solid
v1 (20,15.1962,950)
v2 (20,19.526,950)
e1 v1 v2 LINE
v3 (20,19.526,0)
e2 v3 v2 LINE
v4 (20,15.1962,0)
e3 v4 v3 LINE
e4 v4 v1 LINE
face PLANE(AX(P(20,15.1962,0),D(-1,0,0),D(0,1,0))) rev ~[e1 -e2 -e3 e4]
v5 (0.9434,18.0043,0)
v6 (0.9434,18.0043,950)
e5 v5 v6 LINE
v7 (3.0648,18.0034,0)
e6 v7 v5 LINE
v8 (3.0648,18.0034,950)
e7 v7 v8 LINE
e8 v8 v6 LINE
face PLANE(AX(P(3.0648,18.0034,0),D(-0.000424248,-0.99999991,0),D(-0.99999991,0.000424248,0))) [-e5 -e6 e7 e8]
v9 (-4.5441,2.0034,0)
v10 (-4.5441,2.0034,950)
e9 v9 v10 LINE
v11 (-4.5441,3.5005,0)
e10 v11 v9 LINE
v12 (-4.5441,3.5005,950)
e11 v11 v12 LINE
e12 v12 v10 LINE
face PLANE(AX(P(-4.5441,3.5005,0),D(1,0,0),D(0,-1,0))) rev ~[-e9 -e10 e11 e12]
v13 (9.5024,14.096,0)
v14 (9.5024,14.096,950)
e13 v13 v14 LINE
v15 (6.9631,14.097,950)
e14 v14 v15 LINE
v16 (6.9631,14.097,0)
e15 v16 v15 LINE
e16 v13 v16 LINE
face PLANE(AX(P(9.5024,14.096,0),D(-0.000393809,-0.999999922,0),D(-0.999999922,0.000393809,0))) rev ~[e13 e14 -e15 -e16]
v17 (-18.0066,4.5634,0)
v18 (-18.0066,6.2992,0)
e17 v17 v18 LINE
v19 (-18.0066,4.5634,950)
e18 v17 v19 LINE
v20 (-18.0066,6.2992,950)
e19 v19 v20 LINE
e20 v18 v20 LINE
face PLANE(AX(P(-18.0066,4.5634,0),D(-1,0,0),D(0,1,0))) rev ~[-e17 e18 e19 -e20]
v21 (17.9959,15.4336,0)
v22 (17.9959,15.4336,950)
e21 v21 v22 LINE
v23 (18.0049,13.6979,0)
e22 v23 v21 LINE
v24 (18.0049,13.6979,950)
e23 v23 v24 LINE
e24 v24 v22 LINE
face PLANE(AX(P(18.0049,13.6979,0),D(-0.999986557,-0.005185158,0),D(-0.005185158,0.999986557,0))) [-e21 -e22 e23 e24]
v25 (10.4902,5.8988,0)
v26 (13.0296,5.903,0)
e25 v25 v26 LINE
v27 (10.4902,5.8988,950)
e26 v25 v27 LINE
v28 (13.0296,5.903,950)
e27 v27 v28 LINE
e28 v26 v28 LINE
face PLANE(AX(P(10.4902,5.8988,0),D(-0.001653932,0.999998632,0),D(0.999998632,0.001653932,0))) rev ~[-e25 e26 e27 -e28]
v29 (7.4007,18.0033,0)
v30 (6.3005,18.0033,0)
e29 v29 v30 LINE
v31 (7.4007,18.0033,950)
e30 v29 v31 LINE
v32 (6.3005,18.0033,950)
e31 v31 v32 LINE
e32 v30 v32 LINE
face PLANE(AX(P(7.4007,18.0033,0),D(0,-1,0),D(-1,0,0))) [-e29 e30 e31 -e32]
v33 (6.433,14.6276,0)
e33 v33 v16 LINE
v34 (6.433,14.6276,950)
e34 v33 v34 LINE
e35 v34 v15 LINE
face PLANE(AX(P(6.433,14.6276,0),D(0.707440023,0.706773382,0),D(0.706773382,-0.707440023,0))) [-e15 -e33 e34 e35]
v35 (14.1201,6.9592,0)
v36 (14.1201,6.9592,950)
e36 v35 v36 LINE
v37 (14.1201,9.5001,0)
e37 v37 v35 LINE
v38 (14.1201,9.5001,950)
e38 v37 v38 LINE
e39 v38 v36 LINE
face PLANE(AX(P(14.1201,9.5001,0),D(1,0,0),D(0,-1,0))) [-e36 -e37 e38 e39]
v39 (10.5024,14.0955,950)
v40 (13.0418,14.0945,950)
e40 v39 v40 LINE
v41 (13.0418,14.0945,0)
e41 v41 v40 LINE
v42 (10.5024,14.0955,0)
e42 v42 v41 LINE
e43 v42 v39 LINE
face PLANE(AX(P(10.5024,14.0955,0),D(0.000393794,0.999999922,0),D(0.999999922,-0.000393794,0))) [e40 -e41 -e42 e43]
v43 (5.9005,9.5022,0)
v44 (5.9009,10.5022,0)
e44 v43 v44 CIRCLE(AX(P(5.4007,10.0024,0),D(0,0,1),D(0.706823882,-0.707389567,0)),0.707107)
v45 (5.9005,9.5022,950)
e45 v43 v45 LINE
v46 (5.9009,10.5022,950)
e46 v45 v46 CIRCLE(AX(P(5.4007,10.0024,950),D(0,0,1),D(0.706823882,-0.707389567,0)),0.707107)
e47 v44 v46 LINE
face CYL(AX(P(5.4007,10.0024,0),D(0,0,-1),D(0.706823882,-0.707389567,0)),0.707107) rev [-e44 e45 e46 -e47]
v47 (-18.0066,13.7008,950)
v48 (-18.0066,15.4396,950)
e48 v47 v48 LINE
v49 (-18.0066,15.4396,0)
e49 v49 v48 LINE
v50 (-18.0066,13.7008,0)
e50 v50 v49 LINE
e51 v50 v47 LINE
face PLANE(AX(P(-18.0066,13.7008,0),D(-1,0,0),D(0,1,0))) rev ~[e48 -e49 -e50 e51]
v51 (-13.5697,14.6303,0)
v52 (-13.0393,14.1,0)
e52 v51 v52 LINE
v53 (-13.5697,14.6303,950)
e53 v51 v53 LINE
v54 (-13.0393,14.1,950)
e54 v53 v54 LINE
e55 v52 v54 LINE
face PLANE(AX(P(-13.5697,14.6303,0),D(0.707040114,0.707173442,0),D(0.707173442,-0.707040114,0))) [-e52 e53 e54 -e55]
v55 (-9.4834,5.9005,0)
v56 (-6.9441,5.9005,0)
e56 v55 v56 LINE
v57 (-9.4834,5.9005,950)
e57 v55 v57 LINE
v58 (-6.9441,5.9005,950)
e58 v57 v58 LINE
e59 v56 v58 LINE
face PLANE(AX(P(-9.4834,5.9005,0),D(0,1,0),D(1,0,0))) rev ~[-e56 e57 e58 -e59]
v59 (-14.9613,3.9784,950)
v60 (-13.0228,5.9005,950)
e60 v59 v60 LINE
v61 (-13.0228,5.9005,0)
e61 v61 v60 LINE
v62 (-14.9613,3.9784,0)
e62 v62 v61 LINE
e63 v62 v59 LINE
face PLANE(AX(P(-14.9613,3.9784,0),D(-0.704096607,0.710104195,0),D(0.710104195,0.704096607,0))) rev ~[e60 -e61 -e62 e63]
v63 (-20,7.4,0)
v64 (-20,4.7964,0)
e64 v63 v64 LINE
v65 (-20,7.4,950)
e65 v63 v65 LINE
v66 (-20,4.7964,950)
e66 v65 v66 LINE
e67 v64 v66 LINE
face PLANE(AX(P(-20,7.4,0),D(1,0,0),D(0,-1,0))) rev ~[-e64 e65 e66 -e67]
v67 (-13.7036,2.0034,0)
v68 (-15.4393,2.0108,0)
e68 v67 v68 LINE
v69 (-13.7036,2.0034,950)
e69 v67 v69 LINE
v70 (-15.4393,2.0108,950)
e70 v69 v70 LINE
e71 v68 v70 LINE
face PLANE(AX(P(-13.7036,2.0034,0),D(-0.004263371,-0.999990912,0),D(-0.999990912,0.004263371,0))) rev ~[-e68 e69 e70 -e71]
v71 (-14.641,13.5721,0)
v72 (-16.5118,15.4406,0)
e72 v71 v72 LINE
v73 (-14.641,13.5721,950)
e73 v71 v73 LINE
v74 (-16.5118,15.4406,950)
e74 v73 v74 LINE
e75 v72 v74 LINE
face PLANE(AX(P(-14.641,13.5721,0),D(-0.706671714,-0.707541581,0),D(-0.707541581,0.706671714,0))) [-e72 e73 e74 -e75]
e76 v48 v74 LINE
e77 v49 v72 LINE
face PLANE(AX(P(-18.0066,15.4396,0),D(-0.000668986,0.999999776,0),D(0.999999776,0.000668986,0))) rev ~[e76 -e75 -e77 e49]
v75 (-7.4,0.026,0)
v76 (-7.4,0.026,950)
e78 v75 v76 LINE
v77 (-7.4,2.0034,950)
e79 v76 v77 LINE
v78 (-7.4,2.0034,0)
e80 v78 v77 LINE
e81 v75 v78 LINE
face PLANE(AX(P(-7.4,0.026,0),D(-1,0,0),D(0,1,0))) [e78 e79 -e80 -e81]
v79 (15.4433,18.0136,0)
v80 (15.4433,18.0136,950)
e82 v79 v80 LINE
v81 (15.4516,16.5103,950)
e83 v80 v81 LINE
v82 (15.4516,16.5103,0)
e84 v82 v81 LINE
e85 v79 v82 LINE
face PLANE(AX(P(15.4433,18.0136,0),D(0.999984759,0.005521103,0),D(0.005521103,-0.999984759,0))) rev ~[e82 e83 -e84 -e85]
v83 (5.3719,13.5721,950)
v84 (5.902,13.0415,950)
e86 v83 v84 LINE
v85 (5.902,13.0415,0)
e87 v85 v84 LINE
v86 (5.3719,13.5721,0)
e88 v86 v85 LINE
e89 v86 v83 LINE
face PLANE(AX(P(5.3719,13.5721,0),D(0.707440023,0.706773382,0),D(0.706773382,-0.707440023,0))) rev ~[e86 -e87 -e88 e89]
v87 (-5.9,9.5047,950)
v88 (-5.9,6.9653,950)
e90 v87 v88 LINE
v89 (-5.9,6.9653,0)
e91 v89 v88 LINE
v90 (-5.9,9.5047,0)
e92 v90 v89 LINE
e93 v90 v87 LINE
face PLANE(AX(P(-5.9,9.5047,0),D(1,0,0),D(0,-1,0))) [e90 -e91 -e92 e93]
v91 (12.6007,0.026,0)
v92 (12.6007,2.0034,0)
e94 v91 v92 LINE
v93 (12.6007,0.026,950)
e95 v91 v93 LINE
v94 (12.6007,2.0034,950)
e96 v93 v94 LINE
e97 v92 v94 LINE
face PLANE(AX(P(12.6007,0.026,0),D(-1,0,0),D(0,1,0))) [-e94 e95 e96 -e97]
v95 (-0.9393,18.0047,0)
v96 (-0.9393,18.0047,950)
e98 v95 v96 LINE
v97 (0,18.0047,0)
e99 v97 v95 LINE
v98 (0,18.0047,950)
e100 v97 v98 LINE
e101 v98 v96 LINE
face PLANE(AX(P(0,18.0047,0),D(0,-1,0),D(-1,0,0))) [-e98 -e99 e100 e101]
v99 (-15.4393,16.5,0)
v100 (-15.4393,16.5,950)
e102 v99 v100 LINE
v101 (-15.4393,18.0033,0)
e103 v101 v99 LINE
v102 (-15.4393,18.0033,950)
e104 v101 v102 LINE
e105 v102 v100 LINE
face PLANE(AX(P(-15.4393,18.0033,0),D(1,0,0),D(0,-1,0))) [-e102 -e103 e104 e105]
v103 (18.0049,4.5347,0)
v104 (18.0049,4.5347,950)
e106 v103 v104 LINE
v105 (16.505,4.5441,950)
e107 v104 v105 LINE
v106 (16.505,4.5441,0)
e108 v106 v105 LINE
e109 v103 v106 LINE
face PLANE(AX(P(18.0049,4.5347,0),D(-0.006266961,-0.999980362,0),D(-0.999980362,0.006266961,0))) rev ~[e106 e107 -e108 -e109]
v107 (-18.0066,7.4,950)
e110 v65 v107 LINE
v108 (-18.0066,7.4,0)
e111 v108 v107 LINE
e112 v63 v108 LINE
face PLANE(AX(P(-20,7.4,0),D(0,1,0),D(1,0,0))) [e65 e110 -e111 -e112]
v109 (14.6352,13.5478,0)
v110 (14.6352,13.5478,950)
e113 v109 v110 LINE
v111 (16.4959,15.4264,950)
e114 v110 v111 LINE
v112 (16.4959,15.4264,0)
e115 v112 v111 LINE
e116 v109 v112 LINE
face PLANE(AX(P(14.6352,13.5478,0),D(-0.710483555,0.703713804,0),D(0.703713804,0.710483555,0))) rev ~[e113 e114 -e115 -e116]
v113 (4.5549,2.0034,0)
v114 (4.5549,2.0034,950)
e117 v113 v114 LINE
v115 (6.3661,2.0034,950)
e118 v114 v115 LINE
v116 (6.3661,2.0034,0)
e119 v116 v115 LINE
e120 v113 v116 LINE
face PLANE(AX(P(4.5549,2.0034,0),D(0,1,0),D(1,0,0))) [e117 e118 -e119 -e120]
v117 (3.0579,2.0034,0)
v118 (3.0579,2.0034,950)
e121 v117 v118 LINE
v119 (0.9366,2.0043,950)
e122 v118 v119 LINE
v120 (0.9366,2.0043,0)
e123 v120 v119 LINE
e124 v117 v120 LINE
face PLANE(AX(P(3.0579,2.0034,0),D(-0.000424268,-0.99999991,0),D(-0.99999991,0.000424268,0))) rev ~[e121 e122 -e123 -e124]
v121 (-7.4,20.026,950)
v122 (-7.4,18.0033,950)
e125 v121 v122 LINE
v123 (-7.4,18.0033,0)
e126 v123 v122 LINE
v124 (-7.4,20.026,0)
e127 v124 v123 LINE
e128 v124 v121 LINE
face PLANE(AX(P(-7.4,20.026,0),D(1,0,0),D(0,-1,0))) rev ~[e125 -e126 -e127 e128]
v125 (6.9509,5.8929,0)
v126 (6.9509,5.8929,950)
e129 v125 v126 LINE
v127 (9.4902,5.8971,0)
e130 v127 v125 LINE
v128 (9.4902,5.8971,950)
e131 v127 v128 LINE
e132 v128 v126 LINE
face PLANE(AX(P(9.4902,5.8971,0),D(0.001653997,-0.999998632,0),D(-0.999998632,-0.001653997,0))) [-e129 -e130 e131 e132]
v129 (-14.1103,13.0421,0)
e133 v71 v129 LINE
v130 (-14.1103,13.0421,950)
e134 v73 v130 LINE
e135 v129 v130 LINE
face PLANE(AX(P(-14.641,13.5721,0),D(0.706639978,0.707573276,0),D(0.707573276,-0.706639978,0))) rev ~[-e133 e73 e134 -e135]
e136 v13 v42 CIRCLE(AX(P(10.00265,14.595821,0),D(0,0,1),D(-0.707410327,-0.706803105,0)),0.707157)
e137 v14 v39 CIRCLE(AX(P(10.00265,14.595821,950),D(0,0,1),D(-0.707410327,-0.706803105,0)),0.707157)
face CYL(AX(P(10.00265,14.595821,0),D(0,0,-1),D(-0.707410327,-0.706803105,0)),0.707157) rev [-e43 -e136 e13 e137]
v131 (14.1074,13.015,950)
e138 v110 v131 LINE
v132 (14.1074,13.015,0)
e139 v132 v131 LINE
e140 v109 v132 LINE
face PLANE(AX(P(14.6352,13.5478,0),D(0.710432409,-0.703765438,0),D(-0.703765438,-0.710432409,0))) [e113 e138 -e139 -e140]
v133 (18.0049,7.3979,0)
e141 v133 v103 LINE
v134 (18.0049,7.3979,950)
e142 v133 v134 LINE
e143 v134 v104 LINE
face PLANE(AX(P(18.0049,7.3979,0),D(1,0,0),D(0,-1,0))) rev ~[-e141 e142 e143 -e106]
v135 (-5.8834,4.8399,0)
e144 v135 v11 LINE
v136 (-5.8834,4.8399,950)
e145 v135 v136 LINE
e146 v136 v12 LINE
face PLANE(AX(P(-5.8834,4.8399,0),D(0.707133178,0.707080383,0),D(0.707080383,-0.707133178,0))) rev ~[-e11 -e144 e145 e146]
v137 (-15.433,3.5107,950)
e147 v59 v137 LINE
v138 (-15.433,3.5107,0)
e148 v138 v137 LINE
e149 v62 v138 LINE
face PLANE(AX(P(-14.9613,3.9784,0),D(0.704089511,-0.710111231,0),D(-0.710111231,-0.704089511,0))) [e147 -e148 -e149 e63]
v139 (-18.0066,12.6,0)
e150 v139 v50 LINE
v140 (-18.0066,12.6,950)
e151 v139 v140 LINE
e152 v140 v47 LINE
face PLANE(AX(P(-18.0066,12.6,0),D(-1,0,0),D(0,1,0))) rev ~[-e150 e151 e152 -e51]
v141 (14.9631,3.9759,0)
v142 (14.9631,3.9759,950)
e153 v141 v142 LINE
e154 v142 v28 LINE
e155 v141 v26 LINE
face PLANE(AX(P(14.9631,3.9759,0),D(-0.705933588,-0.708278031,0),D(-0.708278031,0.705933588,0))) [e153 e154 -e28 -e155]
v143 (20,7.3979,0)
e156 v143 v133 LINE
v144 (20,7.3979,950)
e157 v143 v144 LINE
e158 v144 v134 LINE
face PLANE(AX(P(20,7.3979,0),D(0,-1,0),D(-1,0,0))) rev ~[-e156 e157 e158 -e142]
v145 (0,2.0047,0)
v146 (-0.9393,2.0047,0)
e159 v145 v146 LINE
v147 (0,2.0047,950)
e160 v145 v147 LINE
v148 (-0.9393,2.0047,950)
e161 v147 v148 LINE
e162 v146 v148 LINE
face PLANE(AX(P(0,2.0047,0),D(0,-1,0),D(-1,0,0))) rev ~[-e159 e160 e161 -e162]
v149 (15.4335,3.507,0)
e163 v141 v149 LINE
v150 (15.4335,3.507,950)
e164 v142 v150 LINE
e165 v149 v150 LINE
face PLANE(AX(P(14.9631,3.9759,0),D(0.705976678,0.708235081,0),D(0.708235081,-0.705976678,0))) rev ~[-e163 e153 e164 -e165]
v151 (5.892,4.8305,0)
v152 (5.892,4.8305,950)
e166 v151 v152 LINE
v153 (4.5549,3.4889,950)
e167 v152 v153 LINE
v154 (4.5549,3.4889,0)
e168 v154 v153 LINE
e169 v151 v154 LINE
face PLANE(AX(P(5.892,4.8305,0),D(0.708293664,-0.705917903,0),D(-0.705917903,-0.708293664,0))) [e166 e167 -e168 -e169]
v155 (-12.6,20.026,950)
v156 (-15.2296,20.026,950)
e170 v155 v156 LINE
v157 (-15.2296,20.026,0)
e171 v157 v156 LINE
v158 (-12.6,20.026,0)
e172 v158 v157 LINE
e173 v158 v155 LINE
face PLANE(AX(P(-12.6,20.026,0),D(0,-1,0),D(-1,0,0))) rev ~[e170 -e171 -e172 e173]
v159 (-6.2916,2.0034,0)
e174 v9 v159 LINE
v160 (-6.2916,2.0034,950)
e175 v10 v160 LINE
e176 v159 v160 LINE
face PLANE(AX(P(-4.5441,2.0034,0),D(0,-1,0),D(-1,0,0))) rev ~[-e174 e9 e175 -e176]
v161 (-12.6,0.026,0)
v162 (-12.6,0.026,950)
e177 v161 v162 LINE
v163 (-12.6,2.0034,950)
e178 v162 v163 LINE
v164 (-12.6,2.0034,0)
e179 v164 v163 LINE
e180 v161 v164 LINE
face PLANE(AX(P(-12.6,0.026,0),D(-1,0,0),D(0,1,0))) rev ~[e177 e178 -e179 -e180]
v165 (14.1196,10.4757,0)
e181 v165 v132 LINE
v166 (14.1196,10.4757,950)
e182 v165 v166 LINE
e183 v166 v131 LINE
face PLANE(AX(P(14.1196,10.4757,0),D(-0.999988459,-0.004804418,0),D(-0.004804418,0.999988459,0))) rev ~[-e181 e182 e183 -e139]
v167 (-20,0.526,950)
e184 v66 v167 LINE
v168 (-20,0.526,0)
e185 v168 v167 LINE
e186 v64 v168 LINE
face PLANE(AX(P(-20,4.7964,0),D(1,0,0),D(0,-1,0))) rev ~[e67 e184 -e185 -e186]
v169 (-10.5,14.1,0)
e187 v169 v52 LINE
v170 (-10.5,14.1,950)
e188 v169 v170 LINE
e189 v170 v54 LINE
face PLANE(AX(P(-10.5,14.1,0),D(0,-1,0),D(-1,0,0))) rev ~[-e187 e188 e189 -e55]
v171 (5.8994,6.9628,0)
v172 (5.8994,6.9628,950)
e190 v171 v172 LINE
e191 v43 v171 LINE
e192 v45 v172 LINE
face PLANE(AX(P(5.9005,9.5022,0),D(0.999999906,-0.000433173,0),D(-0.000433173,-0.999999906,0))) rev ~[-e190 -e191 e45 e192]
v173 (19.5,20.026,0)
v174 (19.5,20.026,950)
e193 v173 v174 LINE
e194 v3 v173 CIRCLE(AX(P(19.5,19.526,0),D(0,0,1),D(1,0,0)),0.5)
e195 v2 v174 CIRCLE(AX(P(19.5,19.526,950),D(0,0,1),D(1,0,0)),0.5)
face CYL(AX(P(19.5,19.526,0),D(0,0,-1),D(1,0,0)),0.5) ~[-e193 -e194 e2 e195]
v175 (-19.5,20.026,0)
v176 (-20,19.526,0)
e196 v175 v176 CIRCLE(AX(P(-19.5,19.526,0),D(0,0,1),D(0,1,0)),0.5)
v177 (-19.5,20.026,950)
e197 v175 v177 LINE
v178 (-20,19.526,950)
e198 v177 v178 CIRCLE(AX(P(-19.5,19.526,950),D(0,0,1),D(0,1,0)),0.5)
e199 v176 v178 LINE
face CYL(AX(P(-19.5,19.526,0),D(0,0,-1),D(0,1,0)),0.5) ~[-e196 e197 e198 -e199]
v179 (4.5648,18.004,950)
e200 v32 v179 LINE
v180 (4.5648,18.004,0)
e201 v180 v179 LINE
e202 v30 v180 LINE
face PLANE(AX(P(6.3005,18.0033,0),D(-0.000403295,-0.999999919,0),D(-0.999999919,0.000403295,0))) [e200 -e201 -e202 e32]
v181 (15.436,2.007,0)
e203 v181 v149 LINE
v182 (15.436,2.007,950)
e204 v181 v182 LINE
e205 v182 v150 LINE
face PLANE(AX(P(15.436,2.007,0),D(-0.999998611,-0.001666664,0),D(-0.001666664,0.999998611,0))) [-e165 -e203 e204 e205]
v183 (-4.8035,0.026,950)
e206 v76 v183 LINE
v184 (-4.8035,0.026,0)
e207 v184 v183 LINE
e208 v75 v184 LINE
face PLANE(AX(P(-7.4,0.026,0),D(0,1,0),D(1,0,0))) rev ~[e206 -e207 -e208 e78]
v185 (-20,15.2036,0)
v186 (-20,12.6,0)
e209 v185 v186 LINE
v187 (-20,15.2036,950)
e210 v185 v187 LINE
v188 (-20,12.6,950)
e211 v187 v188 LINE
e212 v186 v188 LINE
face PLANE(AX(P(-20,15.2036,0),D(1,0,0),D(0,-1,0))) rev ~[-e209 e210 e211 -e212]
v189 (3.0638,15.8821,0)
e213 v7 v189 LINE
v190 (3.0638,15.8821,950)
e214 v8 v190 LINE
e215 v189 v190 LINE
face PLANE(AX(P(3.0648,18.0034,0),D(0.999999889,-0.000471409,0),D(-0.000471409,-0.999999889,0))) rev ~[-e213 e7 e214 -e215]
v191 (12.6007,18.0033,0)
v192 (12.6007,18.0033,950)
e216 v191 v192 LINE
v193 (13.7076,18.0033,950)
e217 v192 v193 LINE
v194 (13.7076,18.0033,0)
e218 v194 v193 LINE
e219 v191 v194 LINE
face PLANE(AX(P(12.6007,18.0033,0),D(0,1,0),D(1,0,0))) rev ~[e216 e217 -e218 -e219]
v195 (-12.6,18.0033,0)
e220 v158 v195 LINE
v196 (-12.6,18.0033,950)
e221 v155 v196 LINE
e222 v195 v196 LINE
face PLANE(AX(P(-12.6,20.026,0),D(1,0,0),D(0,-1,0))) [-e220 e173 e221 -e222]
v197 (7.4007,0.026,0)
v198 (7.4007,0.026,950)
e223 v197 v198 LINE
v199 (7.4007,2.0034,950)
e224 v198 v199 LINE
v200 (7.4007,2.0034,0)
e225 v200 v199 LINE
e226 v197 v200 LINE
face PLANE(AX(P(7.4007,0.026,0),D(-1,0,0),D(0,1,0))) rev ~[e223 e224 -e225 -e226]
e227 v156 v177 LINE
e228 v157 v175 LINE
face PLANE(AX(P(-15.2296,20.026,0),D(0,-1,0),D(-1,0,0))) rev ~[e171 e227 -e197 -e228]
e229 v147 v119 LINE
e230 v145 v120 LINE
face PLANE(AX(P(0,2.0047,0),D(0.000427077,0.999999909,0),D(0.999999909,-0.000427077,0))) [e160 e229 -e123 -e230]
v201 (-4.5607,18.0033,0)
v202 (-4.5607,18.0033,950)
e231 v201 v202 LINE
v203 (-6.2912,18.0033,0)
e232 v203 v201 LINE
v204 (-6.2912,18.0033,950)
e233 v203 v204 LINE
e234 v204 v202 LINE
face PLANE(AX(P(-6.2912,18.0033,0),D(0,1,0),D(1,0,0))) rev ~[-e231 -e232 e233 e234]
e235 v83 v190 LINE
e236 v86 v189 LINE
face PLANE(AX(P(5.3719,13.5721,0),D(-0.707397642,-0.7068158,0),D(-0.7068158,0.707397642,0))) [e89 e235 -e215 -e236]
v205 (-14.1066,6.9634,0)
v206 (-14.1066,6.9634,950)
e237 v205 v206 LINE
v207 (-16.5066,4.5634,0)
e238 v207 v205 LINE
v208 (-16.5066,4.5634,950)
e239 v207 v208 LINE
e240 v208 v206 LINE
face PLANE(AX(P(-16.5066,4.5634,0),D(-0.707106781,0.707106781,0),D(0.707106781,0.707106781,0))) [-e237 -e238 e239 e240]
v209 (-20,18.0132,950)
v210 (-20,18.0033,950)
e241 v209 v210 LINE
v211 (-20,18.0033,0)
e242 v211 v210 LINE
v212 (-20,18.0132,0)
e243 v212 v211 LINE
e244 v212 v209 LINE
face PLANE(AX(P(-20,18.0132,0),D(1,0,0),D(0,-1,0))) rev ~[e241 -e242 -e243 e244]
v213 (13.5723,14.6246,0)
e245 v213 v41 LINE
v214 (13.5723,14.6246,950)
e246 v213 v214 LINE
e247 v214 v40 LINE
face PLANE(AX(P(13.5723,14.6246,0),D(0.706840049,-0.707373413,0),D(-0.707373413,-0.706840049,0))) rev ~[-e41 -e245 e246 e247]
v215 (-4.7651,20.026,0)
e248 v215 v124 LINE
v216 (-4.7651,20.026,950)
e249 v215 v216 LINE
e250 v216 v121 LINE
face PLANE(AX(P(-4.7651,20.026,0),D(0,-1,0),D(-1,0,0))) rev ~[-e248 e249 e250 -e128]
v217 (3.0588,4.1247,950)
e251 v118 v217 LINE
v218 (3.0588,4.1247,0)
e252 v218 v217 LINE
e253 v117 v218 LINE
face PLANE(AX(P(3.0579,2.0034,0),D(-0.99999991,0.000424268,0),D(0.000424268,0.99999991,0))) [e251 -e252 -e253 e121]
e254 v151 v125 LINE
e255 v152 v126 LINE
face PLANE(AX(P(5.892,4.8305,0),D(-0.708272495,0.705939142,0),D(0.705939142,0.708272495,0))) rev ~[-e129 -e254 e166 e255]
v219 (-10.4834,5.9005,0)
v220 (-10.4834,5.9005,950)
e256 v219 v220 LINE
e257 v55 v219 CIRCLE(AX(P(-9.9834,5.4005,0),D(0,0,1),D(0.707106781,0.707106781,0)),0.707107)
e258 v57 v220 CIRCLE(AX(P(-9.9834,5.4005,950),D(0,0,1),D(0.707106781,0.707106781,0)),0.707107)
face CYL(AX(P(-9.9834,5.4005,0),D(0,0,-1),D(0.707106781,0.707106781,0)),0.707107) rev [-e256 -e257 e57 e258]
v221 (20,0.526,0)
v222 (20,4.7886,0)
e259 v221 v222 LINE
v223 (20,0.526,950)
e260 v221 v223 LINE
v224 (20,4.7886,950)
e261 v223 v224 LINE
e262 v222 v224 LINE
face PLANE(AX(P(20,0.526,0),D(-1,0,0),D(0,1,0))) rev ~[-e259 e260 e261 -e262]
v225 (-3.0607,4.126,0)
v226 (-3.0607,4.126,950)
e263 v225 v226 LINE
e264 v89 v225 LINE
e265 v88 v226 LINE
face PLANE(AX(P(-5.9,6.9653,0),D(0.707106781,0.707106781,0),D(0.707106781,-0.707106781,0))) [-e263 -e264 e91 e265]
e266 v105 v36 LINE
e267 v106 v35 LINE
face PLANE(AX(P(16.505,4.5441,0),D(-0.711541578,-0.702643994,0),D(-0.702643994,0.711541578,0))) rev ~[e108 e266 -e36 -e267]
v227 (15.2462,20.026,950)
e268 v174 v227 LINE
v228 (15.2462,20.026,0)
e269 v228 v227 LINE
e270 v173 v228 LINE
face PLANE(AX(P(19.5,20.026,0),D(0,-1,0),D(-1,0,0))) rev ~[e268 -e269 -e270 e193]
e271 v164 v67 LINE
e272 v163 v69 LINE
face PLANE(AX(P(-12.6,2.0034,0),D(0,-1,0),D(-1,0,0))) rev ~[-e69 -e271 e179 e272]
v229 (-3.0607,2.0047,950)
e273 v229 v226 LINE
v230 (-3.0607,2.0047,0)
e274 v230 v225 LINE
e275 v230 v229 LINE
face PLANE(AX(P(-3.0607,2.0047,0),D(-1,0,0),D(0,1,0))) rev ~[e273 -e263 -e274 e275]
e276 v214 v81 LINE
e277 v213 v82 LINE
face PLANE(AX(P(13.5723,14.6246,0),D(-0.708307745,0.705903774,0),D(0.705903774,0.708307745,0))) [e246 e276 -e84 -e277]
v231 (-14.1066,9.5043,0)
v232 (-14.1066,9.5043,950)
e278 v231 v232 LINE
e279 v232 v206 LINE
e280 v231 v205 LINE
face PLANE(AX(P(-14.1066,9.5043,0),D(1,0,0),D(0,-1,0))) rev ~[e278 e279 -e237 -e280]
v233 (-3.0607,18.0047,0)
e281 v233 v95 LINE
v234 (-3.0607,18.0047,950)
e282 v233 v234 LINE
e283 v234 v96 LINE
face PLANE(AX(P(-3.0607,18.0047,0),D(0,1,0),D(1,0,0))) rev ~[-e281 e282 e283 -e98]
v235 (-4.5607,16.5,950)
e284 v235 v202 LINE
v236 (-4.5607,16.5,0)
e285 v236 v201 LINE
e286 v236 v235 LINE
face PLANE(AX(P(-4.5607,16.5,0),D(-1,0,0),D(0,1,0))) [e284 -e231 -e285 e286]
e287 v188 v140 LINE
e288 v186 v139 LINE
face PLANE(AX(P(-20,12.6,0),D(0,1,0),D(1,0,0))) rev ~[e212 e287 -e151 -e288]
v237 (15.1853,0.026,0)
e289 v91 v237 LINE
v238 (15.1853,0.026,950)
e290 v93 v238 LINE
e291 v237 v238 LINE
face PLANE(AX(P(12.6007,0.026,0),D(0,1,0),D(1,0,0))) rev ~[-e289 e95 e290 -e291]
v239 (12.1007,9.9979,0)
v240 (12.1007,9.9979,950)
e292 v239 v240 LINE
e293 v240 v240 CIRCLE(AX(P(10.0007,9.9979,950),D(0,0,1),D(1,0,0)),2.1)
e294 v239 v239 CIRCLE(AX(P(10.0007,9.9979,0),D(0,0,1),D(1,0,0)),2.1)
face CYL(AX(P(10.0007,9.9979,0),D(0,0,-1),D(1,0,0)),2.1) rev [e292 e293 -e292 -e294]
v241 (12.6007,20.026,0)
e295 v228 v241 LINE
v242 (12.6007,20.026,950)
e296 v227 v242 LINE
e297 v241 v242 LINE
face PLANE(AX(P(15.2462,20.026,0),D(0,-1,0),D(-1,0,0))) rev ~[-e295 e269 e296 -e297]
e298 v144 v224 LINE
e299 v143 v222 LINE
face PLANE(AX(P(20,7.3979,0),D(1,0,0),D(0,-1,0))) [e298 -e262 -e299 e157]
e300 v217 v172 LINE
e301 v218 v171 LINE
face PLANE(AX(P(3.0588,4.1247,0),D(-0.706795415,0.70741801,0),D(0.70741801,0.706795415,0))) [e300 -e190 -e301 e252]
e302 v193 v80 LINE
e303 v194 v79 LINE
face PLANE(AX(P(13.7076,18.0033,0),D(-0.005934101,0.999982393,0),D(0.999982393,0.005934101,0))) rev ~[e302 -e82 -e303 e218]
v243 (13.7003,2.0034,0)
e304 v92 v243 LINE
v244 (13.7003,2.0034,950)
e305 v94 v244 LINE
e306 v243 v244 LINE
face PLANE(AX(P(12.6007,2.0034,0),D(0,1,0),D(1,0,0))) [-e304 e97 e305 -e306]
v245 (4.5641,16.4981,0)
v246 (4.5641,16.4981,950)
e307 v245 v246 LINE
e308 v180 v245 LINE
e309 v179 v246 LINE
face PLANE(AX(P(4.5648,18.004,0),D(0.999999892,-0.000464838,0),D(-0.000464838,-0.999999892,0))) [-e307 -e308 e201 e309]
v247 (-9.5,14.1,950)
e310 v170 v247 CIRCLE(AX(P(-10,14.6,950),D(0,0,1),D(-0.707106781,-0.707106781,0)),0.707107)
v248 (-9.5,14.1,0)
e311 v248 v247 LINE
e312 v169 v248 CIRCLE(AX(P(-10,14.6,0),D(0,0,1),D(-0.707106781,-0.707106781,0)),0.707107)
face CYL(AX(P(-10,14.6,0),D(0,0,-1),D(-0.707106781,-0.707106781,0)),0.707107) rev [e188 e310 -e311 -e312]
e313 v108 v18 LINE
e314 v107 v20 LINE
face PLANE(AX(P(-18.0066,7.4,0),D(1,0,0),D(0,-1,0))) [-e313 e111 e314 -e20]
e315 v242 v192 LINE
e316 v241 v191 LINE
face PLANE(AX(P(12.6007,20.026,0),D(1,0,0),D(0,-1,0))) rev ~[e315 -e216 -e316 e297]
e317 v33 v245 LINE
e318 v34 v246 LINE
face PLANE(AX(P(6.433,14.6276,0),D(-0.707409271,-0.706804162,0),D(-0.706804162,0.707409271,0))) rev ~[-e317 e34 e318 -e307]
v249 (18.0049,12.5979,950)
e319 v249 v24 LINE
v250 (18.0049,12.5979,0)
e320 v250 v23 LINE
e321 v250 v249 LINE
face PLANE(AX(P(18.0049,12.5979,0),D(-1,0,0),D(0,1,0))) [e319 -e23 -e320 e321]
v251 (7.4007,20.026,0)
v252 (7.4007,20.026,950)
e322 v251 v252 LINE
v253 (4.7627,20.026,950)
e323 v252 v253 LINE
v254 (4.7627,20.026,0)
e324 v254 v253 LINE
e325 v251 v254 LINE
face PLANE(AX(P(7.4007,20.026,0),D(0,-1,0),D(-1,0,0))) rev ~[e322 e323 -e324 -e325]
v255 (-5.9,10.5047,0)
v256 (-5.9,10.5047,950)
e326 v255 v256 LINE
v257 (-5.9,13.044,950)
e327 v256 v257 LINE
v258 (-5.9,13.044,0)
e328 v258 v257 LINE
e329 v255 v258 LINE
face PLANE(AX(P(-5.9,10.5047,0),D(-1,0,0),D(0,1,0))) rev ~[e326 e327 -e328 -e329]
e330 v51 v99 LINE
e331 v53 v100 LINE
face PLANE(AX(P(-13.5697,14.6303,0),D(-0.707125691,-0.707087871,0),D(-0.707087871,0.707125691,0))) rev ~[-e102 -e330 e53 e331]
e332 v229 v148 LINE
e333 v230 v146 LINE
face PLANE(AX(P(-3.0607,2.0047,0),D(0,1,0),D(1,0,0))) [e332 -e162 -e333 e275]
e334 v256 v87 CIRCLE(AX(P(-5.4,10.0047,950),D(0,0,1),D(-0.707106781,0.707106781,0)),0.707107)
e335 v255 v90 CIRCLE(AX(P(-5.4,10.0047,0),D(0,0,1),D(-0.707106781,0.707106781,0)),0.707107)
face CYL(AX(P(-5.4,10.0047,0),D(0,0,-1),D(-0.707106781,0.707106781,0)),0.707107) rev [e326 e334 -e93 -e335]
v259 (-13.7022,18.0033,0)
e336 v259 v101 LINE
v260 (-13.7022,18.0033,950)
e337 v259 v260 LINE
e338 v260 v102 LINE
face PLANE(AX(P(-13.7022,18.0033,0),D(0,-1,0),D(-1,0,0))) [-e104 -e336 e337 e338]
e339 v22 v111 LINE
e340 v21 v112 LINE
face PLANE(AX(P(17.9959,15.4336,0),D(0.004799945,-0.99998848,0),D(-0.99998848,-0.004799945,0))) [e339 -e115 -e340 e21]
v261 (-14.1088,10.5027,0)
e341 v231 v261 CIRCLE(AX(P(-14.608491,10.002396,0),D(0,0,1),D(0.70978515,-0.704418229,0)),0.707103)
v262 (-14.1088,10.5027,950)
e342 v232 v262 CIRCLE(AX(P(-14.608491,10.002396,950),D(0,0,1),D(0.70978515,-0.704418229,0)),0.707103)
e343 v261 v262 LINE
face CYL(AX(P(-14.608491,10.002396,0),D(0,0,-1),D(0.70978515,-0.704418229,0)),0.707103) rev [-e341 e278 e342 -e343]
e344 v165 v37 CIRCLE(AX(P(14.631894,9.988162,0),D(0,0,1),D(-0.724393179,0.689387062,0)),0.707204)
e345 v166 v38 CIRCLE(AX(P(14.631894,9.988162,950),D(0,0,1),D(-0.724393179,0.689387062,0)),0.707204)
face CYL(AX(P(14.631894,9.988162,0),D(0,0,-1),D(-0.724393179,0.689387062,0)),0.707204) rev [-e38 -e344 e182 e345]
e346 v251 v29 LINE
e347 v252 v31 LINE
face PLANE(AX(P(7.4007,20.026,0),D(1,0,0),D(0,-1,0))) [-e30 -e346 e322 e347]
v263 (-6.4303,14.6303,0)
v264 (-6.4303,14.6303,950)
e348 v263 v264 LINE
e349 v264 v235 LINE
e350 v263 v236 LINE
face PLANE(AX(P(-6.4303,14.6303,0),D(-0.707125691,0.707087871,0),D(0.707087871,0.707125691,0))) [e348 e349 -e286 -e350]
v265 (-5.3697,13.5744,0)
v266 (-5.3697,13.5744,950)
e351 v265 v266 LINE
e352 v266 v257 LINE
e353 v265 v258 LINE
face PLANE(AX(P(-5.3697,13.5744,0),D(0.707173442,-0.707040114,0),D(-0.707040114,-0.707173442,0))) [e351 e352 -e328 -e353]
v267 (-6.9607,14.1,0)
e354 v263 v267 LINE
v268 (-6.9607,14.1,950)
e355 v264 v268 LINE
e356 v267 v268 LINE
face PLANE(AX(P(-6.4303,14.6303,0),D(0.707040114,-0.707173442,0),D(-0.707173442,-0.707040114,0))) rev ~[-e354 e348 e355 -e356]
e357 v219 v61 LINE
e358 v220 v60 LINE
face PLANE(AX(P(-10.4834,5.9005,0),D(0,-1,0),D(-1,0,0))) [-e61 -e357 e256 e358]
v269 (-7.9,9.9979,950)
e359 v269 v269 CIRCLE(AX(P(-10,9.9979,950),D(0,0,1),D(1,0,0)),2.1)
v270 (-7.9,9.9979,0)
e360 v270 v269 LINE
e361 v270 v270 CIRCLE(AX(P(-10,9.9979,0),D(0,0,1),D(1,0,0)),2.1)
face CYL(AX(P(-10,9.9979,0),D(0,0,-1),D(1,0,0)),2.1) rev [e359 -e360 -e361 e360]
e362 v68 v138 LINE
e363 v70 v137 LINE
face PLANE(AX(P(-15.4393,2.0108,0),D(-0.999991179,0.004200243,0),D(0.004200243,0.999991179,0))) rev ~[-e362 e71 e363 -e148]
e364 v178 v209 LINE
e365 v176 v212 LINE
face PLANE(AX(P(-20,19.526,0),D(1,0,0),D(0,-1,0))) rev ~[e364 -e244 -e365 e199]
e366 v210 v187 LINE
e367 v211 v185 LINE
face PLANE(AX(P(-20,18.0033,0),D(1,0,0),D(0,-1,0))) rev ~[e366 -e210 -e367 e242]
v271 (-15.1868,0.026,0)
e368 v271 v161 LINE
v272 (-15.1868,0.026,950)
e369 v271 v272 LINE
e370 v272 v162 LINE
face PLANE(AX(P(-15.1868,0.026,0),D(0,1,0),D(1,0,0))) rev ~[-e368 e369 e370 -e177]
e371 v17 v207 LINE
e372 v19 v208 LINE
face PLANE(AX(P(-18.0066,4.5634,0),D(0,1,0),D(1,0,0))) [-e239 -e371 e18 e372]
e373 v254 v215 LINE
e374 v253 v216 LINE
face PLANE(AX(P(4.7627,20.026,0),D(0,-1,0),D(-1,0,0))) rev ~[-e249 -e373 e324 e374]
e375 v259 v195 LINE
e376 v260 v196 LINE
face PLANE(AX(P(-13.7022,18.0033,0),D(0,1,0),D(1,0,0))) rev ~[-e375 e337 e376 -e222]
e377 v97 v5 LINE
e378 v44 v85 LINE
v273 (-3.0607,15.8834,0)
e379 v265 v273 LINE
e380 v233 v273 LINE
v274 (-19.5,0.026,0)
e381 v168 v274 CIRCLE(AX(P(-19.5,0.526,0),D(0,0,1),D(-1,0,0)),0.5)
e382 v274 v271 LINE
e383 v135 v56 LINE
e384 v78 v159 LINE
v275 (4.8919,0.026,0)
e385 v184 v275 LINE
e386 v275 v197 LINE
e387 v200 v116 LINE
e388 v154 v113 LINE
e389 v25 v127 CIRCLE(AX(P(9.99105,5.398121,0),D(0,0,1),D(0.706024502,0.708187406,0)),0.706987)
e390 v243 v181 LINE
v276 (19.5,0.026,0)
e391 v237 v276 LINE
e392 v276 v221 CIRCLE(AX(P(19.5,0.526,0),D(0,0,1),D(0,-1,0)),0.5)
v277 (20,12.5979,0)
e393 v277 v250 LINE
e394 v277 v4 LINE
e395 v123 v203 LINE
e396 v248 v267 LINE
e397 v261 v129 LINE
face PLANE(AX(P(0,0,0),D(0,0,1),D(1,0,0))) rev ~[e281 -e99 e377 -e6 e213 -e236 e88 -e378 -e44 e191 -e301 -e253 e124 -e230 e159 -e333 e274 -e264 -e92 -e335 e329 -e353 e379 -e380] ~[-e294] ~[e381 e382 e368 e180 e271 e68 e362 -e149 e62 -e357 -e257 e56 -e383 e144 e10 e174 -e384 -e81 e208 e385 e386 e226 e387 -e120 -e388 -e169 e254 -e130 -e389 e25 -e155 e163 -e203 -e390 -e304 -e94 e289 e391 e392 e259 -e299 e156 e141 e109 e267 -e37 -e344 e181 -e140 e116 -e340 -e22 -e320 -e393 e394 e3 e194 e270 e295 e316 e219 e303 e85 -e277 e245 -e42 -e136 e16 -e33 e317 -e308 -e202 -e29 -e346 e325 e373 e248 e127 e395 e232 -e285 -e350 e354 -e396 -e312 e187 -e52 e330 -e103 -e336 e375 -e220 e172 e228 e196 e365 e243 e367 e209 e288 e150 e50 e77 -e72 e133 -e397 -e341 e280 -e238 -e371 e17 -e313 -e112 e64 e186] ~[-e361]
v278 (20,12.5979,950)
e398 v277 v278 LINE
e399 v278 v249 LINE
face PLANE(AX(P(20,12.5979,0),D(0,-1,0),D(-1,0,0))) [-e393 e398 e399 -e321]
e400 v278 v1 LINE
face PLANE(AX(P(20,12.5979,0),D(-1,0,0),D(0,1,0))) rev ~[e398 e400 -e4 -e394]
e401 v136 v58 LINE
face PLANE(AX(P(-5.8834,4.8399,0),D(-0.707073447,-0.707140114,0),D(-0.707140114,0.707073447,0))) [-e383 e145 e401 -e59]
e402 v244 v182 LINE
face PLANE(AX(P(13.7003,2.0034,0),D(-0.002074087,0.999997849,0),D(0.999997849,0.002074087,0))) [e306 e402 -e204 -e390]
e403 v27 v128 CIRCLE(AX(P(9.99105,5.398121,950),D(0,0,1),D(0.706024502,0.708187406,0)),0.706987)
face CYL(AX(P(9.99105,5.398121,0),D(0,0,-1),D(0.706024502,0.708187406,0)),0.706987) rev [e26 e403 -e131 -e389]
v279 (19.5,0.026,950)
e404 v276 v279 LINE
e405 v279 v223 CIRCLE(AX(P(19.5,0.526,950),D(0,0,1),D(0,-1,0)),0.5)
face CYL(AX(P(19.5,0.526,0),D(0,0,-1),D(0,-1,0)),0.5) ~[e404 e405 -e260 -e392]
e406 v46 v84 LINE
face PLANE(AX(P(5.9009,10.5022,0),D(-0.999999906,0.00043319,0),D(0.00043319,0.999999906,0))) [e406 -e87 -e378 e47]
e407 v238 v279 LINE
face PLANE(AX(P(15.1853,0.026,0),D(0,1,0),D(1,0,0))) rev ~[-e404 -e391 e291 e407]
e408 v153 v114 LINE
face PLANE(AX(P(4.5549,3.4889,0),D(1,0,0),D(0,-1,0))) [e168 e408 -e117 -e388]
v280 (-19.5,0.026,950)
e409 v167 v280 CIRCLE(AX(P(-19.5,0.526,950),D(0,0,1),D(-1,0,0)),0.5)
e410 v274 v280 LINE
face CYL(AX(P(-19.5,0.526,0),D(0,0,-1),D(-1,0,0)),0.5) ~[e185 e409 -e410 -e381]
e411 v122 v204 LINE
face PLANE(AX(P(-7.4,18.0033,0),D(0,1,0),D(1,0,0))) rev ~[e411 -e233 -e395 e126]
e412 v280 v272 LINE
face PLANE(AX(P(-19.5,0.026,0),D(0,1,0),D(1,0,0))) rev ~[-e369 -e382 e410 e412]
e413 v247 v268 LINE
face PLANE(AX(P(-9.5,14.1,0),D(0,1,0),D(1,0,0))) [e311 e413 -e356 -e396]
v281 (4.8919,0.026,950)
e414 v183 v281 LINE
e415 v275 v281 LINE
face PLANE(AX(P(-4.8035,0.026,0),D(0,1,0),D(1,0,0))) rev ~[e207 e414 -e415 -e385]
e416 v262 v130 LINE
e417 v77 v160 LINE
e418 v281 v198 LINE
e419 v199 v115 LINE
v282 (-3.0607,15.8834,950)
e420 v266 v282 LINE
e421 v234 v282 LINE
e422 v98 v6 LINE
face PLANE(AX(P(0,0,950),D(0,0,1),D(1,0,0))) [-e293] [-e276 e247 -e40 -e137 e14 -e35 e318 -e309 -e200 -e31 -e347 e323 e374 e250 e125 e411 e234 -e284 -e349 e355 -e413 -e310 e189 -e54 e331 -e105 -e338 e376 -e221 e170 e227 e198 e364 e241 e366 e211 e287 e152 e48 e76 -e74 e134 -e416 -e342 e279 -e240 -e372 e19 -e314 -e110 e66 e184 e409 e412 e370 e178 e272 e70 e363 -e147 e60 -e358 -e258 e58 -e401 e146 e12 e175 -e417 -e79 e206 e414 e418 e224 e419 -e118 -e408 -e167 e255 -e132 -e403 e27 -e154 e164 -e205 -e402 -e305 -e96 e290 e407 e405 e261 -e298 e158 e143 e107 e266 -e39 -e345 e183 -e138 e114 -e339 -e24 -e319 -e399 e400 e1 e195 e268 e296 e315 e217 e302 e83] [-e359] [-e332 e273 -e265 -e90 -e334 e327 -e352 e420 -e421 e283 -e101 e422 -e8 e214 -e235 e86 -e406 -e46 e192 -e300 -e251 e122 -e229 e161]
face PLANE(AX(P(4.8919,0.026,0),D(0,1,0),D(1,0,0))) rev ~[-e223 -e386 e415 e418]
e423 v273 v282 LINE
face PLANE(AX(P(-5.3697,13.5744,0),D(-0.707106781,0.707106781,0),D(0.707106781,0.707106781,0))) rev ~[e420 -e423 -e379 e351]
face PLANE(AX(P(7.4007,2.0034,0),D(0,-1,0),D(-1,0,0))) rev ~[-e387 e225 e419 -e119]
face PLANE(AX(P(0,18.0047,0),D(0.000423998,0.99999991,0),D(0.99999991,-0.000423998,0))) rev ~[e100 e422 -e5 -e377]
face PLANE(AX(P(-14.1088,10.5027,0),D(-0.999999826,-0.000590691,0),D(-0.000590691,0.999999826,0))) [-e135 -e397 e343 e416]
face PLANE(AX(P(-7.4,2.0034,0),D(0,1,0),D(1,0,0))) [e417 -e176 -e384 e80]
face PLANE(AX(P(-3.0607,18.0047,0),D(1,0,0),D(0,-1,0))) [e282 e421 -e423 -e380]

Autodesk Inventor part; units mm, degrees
ref_plane "YZ Plane" through (0, 0, 0) normal (1, 0, 0) x (0, 1, 0)
ref_plane "XZ Plane" through (0, 0, 0) normal (0, 1, 0) x (-1, 0, 0)
ref_plane "XY Plane" through (0, 0, 0) normal (0, 0, 1) x (1, 0, 0)
sketch "Szkic1" plane through (0, 0, 0) normal (0, 0, 1) x (1, 0, 0)
  circle A0 centre (-10, 9.9979) radius 2.1
  line L0 (-14.9613, 3.9784) -> (-13.0228, 5.9005)
  line L1 (-18.0066, 4.5634) -> (-18.0066, 6.2992)
  line L2 (-18.0066, 13.7008) -> (-18.0066, 15.4396)
  line L3 (-14.9613, 3.9784) -> (-15.433, 3.5107)
  line L4 (-13.7036, 2.0034) -> (-15.4393, 2.0108)
  line L5 (-13.5697, 14.6303) -> (-15.4393, 16.5)
  line L6 (-13.5697, 14.6303) -> (-13.0393, 14.1)
  line L7 (-14.641, 13.5721) -> (-14.1103, 13.0421)
  line L8 (-13.7022, 18.0033) -> (-15.4393, 18.0033)
  line L9 (-14.641, 13.5721) -> (-16.5118, 15.4406)
  line L10 (-15.4393, 18.0033) -> (-15.4393, 16.5)
  line L11 (-18.0066, 15.4396) -> (-16.5118, 15.4406)
  line L12 (-18.0066, 4.5634) -> (-16.5066, 4.5634)
  line L13 (-15.4393, 2.0108) -> (-15.433, 3.5107)
  line L14 (-6.4303, 14.6303) -> (-6.9607, 14.1)
  line L15 (-5.3697, 13.5744) -> (-5.9, 13.044)
  line L16 (-5.8834, 4.8399) -> (-6.9441, 5.9005)
  line L17 (0, 2.0047) -> (-0.9393, 2.0047)
  line L18 (0, 18.0047) -> (-0.9393, 18.0047)
  line L19 (-6.4303, 14.6303) -> (-4.5607, 16.5)
  line L20 (-3.0607, 18.0047) -> (-3.0607, 15.8834)
  line L21 (-3.0607, 18.0047) -> (-0.9393, 18.0047)
  line L22 (-5.3697, 13.5744) -> (-3.0607, 15.8834)
  line L23 (-3.0607, 2.0047) -> (-3.0607, 4.126)
  line L24 (-5.8834, 4.8399) -> (-4.5441, 3.5005)
  line L25 (-3.0607, 2.0047) -> (-0.9393, 2.0047)
  line L26 (-14.1088, 10.5027) -> (-14.1103, 13.0421)
  line L27 (-10.5, 14.1) -> (-13.0393, 14.1)
  line L28 (-9.5, 14.1) -> (-6.9607, 14.1)
  line L29 (-5.9, 10.5047) -> (-5.9, 13.044)
  line L30 (-5.9, 9.5047) -> (-5.9, 6.9653)
  line L31 (-9.4834, 5.9005) -> (-6.9441, 5.9005)
  line L32 (-10.4834, 5.9005) -> (-13.0228, 5.9005)
  arc A1 (-10.5, 14.1) -> (-9.5, 14.1) centre (-10, 14.6) ccw
  arc A2 (-14.1066, 9.5043) -> (-14.1088, 10.5027) centre (-14.6085, 10.0024) ccw
  arc A3 (-9.4834, 5.9005) -> (-10.4834, 5.9005) centre (-9.9834, 5.4005) ccw
  arc A4 (-5.9, 10.5047) -> (-5.9, 9.5047) centre (-5.4, 10.0047) ccw
  circle A5 centre (10.0007, 9.9979) radius 2.1
  line L33 (14.9631, 3.9759) -> (13.0296, 5.903)
  line L34 (15.4994, 6.8934) -> (15.1709, 6.8935) construction
  line L35 (18.0049, 13.6979) -> (17.9959, 15.4336)
  line L36 (14.9631, 3.9759) -> (15.4335, 3.507)
  line L37 (13.7003, 2.0034) -> (15.436, 2.007)
  line L38 (13.5723, 14.6246) -> (15.4516, 16.5103)
  line L39 (13.5723, 14.6246) -> (13.0418, 14.0945)
  line L40 (14.6352, 13.5478) -> (14.1074, 13.015)
  line L41 (13.7076, 18.0033) -> (15.4433, 18.0136)
  line L42 (14.6352, 13.5478) -> (16.4959, 15.4264)
  line L43 (15.4433, 18.0136) -> (15.4516, 16.5103)
  line L44 (17.9959, 15.4336) -> (16.4959, 15.4264)
  line L45 (18.0049, 4.5347) -> (16.505, 4.5441)
  line L46 (15.436, 2.007) -> (15.4335, 3.507)
  line L47 (6.433, 14.6276) -> (6.9631, 14.097)
  line L48 (5.3719, 13.5721) -> (5.902, 13.0415)
  line L49 (5.892, 4.8305) -> (6.9509, 5.8929)
  line L50 (0, 2.0047) -> (0.9366, 2.0043)
  line L51 (0, 18.0047) -> (0.9434, 18.0043)
  line L52 (4.5648, 18.004) -> (4.5641, 16.4981)
  line L53 (6.433, 14.6276) -> (4.5641, 16.4981)
  line L54 (3.0648, 18.0034) -> (3.0638, 15.8821)
  line L55 (3.0648, 18.0034) -> (0.9434, 18.0043)
  line L56 (5.3719, 13.5721) -> (3.0638, 15.8821)
  line L57 (3.0579, 2.0034) -> (3.0588, 4.1247)
  line L58 (5.892, 4.8305) -> (4.5549, 3.4889)
  line L59 (3.0579, 2.0034) -> (0.9366, 2.0043)
  line L60 (14.1196, 10.4757) -> (14.1074, 13.015)
  line L61 (10.5024, 14.0955) -> (13.0418, 14.0945)
  line L62 (9.5024, 14.096) -> (6.9631, 14.097)
  line L63 (5.9009, 10.5022) -> (5.902, 13.0415)
  line L64 (5.9005, 9.5022) -> (5.8994, 6.9628)
  line L65 (9.4902, 5.8971) -> (6.9509, 5.8929)
  line L66 (10.4902, 5.8988) -> (13.0296, 5.903)
  arc A6 (9.5024, 14.096) -> (10.5024, 14.0955) centre (10.0026, 14.5957) ccw
  arc A7 (14.1196, 10.4757) -> (14.1201, 9.5001) centre (14.6318, 9.9882) ccw
  arc A8 (10.4902, 5.8988) -> (9.4902, 5.8971) centre (9.991, 5.398) ccw
  arc A9 (5.9005, 9.5022) -> (5.9009, 10.5022) centre (5.4007, 10.0024) ccw
  line L67 (-4.5607, 16.5) -> (-4.5607, 18.0033)
  line L68 (-6.2912, 18.0033) -> (-4.5607, 18.0033)
  line L69 (6.3005, 18.0033) -> (4.5648, 18.004)
  line L70 (-14.1066, 9.5043) -> (-14.1066, 6.9634)
  line L71 (14.1201, 9.5001) -> (14.1201, 6.9592)
  line L72 (3.0588, 4.1247) -> (5.8994, 6.9628)
  line L73 (-5.9, 6.9653) -> (-3.0607, 4.126)
  line L74 (-4.5441, 2.0034) -> (-6.2916, 2.0034)
  line L75 (-4.5441, 3.5005) -> (-4.5441, 2.0034)
  line L76 (4.5549, 2.0034) -> (6.3661, 2.0034)
  line L77 (6.5461, 1.5766) -> (6.5038, 1.5343)
  line L78 (4.5549, 3.4889) -> (4.5549, 2.0034)
  line L79 (-20, 18.0132) -> (-20, 18.0033)
  line L80 (-15.2296, 20.026) -> (-19.5, 20.026)
  line L81 (19.5, 20.026) -> (15.2462, 20.026)
  line L82 (4.7627, 20.026) -> (-4.7651, 20.026)
  line L83 (20, 0.526) -> (20, 4.7886)
  line L84 (20, 15.1962) -> (20, 19.526)
  line L85 (15.1853, 0.026) -> (19.5, 0.026)
  line L86 (-19.5, 0.026) -> (-15.1868, 0.026)
  line L87 (-4.8035, 0.026) -> (4.8919, 0.026)
  line L88 (-20, 19.526) -> (-20, 15.2036)
  line L89 (-20, 4.7964) -> (-20, 0.526)
  line L90 (-16.5066, 4.5634) -> (-14.1066, 6.9634)
  line L91 (16.505, 4.5441) -> (14.1201, 6.9592)
  line L92 (-8.9462, 9.9979) -> (-8.9325, 9.9979)
  arc A10 (-19.5, 20.026) -> (-20, 19.526) centre (-19.5, 19.526) ccw
  arc A11 (20, 19.526) -> (19.5, 20.026) centre (19.5, 19.526) ccw
  arc A12 (19.5, 0.026) -> (20, 0.526) centre (19.5, 0.526) ccw
  arc A13 (-20, 0.526) -> (-19.5, 0.026) centre (-19.5, 0.526) ccw
  line L93 (-12.6, 20.026) -> (-12.6, 18.0033)
  line L94 (-7.4, 20.026) -> (-7.4, 18.0033)
  line L95 (-4.7651, 20.026) -> (-7.4, 20.026)
  line L96 (-12.6, 20.026) -> (-15.2296, 20.026)
  line L97 (-13.7022, 18.0033) -> (-12.6, 18.0033)
  line L98 (-7.4, 18.0033) -> (-6.2912, 18.0033)
  line L99 (-20, 12.6) -> (-18.0066, 12.6)
  line L100 (-18.0066, 12.6) -> (-18.0066, 13.7008)
  line L101 (-20, 7.4) -> (-18.0066, 7.4)
  line L102 (-18.0066, 7.4) -> (-18.0066, 6.2992)
  line L103 (-20, 15.2036) -> (-20, 12.6)
  line L104 (-20, 7.4) -> (-20, 4.7964)
  line L105 (-7.4, 0.026) -> (-7.4, 2.0034)
  line L106 (-7.4, 2.0034) -> (-6.2916, 2.0034)
  line L107 (-12.6, 0.026) -> (-12.6, 2.0034)
  line L108 (-12.6, 2.0034) -> (-13.7036, 2.0034)
  line L109 (-15.1868, 0.026) -> (-12.6, 0.026)
  line L110 (-7.4, 0.026) -> (-4.8035, 0.026)
  line L111 (7.4007, 20.026) -> (4.7627, 20.026)
  line L112 (15.2462, 20.026) -> (12.6007, 20.026)
  line L113 (12.6007, 20.026) -> (12.6007, 18.0033)
  line L114 (12.6007, 18.0033) -> (13.7076, 18.0033)
  line L115 (7.4007, 20.026) -> (7.4007, 18.0033)
  line L116 (7.4007, 18.0033) -> (6.3005, 18.0033)
  line L117 (20, 7.3979) -> (20, 4.7886)
  line L118 (20, 12.5979) -> (20, 15.1962)
  line L119 (20, 12.5979) -> (18.0049, 12.5979)
  line L120 (18.0049, 12.5979) -> (18.0049, 13.6979)
  line L121 (20, 7.4) -> (20, 7.3979)
  line L122 (20, 7.3979) -> (18.0049, 7.3979)
  line L123 (18.0049, 7.3979) -> (18.0049, 4.5347)
  line L124 (10.0007, 9.9979) -> (19.9726, 9.9979) construction
  line L125 (12.6007, 0.026) -> (15.1853, 0.026)
  line L126 (4.8919, 0.026) -> (7.4007, 0.026)
  line L127 (12.6007, 0.026) -> (12.6007, 2.0034)
  line L128 (12.6007, 2.0034) -> (13.7003, 2.0034)
  line L129 (7.4007, 0.026) -> (7.4007, 2.0034)
  line L130 (7.4007, 2.0034) -> (6.3661, 2.0034)
extrude "Wyciągnięcie proste2" add sketch "Szkic1" along normal blind 950
properties part number "Profil dolny długi"
